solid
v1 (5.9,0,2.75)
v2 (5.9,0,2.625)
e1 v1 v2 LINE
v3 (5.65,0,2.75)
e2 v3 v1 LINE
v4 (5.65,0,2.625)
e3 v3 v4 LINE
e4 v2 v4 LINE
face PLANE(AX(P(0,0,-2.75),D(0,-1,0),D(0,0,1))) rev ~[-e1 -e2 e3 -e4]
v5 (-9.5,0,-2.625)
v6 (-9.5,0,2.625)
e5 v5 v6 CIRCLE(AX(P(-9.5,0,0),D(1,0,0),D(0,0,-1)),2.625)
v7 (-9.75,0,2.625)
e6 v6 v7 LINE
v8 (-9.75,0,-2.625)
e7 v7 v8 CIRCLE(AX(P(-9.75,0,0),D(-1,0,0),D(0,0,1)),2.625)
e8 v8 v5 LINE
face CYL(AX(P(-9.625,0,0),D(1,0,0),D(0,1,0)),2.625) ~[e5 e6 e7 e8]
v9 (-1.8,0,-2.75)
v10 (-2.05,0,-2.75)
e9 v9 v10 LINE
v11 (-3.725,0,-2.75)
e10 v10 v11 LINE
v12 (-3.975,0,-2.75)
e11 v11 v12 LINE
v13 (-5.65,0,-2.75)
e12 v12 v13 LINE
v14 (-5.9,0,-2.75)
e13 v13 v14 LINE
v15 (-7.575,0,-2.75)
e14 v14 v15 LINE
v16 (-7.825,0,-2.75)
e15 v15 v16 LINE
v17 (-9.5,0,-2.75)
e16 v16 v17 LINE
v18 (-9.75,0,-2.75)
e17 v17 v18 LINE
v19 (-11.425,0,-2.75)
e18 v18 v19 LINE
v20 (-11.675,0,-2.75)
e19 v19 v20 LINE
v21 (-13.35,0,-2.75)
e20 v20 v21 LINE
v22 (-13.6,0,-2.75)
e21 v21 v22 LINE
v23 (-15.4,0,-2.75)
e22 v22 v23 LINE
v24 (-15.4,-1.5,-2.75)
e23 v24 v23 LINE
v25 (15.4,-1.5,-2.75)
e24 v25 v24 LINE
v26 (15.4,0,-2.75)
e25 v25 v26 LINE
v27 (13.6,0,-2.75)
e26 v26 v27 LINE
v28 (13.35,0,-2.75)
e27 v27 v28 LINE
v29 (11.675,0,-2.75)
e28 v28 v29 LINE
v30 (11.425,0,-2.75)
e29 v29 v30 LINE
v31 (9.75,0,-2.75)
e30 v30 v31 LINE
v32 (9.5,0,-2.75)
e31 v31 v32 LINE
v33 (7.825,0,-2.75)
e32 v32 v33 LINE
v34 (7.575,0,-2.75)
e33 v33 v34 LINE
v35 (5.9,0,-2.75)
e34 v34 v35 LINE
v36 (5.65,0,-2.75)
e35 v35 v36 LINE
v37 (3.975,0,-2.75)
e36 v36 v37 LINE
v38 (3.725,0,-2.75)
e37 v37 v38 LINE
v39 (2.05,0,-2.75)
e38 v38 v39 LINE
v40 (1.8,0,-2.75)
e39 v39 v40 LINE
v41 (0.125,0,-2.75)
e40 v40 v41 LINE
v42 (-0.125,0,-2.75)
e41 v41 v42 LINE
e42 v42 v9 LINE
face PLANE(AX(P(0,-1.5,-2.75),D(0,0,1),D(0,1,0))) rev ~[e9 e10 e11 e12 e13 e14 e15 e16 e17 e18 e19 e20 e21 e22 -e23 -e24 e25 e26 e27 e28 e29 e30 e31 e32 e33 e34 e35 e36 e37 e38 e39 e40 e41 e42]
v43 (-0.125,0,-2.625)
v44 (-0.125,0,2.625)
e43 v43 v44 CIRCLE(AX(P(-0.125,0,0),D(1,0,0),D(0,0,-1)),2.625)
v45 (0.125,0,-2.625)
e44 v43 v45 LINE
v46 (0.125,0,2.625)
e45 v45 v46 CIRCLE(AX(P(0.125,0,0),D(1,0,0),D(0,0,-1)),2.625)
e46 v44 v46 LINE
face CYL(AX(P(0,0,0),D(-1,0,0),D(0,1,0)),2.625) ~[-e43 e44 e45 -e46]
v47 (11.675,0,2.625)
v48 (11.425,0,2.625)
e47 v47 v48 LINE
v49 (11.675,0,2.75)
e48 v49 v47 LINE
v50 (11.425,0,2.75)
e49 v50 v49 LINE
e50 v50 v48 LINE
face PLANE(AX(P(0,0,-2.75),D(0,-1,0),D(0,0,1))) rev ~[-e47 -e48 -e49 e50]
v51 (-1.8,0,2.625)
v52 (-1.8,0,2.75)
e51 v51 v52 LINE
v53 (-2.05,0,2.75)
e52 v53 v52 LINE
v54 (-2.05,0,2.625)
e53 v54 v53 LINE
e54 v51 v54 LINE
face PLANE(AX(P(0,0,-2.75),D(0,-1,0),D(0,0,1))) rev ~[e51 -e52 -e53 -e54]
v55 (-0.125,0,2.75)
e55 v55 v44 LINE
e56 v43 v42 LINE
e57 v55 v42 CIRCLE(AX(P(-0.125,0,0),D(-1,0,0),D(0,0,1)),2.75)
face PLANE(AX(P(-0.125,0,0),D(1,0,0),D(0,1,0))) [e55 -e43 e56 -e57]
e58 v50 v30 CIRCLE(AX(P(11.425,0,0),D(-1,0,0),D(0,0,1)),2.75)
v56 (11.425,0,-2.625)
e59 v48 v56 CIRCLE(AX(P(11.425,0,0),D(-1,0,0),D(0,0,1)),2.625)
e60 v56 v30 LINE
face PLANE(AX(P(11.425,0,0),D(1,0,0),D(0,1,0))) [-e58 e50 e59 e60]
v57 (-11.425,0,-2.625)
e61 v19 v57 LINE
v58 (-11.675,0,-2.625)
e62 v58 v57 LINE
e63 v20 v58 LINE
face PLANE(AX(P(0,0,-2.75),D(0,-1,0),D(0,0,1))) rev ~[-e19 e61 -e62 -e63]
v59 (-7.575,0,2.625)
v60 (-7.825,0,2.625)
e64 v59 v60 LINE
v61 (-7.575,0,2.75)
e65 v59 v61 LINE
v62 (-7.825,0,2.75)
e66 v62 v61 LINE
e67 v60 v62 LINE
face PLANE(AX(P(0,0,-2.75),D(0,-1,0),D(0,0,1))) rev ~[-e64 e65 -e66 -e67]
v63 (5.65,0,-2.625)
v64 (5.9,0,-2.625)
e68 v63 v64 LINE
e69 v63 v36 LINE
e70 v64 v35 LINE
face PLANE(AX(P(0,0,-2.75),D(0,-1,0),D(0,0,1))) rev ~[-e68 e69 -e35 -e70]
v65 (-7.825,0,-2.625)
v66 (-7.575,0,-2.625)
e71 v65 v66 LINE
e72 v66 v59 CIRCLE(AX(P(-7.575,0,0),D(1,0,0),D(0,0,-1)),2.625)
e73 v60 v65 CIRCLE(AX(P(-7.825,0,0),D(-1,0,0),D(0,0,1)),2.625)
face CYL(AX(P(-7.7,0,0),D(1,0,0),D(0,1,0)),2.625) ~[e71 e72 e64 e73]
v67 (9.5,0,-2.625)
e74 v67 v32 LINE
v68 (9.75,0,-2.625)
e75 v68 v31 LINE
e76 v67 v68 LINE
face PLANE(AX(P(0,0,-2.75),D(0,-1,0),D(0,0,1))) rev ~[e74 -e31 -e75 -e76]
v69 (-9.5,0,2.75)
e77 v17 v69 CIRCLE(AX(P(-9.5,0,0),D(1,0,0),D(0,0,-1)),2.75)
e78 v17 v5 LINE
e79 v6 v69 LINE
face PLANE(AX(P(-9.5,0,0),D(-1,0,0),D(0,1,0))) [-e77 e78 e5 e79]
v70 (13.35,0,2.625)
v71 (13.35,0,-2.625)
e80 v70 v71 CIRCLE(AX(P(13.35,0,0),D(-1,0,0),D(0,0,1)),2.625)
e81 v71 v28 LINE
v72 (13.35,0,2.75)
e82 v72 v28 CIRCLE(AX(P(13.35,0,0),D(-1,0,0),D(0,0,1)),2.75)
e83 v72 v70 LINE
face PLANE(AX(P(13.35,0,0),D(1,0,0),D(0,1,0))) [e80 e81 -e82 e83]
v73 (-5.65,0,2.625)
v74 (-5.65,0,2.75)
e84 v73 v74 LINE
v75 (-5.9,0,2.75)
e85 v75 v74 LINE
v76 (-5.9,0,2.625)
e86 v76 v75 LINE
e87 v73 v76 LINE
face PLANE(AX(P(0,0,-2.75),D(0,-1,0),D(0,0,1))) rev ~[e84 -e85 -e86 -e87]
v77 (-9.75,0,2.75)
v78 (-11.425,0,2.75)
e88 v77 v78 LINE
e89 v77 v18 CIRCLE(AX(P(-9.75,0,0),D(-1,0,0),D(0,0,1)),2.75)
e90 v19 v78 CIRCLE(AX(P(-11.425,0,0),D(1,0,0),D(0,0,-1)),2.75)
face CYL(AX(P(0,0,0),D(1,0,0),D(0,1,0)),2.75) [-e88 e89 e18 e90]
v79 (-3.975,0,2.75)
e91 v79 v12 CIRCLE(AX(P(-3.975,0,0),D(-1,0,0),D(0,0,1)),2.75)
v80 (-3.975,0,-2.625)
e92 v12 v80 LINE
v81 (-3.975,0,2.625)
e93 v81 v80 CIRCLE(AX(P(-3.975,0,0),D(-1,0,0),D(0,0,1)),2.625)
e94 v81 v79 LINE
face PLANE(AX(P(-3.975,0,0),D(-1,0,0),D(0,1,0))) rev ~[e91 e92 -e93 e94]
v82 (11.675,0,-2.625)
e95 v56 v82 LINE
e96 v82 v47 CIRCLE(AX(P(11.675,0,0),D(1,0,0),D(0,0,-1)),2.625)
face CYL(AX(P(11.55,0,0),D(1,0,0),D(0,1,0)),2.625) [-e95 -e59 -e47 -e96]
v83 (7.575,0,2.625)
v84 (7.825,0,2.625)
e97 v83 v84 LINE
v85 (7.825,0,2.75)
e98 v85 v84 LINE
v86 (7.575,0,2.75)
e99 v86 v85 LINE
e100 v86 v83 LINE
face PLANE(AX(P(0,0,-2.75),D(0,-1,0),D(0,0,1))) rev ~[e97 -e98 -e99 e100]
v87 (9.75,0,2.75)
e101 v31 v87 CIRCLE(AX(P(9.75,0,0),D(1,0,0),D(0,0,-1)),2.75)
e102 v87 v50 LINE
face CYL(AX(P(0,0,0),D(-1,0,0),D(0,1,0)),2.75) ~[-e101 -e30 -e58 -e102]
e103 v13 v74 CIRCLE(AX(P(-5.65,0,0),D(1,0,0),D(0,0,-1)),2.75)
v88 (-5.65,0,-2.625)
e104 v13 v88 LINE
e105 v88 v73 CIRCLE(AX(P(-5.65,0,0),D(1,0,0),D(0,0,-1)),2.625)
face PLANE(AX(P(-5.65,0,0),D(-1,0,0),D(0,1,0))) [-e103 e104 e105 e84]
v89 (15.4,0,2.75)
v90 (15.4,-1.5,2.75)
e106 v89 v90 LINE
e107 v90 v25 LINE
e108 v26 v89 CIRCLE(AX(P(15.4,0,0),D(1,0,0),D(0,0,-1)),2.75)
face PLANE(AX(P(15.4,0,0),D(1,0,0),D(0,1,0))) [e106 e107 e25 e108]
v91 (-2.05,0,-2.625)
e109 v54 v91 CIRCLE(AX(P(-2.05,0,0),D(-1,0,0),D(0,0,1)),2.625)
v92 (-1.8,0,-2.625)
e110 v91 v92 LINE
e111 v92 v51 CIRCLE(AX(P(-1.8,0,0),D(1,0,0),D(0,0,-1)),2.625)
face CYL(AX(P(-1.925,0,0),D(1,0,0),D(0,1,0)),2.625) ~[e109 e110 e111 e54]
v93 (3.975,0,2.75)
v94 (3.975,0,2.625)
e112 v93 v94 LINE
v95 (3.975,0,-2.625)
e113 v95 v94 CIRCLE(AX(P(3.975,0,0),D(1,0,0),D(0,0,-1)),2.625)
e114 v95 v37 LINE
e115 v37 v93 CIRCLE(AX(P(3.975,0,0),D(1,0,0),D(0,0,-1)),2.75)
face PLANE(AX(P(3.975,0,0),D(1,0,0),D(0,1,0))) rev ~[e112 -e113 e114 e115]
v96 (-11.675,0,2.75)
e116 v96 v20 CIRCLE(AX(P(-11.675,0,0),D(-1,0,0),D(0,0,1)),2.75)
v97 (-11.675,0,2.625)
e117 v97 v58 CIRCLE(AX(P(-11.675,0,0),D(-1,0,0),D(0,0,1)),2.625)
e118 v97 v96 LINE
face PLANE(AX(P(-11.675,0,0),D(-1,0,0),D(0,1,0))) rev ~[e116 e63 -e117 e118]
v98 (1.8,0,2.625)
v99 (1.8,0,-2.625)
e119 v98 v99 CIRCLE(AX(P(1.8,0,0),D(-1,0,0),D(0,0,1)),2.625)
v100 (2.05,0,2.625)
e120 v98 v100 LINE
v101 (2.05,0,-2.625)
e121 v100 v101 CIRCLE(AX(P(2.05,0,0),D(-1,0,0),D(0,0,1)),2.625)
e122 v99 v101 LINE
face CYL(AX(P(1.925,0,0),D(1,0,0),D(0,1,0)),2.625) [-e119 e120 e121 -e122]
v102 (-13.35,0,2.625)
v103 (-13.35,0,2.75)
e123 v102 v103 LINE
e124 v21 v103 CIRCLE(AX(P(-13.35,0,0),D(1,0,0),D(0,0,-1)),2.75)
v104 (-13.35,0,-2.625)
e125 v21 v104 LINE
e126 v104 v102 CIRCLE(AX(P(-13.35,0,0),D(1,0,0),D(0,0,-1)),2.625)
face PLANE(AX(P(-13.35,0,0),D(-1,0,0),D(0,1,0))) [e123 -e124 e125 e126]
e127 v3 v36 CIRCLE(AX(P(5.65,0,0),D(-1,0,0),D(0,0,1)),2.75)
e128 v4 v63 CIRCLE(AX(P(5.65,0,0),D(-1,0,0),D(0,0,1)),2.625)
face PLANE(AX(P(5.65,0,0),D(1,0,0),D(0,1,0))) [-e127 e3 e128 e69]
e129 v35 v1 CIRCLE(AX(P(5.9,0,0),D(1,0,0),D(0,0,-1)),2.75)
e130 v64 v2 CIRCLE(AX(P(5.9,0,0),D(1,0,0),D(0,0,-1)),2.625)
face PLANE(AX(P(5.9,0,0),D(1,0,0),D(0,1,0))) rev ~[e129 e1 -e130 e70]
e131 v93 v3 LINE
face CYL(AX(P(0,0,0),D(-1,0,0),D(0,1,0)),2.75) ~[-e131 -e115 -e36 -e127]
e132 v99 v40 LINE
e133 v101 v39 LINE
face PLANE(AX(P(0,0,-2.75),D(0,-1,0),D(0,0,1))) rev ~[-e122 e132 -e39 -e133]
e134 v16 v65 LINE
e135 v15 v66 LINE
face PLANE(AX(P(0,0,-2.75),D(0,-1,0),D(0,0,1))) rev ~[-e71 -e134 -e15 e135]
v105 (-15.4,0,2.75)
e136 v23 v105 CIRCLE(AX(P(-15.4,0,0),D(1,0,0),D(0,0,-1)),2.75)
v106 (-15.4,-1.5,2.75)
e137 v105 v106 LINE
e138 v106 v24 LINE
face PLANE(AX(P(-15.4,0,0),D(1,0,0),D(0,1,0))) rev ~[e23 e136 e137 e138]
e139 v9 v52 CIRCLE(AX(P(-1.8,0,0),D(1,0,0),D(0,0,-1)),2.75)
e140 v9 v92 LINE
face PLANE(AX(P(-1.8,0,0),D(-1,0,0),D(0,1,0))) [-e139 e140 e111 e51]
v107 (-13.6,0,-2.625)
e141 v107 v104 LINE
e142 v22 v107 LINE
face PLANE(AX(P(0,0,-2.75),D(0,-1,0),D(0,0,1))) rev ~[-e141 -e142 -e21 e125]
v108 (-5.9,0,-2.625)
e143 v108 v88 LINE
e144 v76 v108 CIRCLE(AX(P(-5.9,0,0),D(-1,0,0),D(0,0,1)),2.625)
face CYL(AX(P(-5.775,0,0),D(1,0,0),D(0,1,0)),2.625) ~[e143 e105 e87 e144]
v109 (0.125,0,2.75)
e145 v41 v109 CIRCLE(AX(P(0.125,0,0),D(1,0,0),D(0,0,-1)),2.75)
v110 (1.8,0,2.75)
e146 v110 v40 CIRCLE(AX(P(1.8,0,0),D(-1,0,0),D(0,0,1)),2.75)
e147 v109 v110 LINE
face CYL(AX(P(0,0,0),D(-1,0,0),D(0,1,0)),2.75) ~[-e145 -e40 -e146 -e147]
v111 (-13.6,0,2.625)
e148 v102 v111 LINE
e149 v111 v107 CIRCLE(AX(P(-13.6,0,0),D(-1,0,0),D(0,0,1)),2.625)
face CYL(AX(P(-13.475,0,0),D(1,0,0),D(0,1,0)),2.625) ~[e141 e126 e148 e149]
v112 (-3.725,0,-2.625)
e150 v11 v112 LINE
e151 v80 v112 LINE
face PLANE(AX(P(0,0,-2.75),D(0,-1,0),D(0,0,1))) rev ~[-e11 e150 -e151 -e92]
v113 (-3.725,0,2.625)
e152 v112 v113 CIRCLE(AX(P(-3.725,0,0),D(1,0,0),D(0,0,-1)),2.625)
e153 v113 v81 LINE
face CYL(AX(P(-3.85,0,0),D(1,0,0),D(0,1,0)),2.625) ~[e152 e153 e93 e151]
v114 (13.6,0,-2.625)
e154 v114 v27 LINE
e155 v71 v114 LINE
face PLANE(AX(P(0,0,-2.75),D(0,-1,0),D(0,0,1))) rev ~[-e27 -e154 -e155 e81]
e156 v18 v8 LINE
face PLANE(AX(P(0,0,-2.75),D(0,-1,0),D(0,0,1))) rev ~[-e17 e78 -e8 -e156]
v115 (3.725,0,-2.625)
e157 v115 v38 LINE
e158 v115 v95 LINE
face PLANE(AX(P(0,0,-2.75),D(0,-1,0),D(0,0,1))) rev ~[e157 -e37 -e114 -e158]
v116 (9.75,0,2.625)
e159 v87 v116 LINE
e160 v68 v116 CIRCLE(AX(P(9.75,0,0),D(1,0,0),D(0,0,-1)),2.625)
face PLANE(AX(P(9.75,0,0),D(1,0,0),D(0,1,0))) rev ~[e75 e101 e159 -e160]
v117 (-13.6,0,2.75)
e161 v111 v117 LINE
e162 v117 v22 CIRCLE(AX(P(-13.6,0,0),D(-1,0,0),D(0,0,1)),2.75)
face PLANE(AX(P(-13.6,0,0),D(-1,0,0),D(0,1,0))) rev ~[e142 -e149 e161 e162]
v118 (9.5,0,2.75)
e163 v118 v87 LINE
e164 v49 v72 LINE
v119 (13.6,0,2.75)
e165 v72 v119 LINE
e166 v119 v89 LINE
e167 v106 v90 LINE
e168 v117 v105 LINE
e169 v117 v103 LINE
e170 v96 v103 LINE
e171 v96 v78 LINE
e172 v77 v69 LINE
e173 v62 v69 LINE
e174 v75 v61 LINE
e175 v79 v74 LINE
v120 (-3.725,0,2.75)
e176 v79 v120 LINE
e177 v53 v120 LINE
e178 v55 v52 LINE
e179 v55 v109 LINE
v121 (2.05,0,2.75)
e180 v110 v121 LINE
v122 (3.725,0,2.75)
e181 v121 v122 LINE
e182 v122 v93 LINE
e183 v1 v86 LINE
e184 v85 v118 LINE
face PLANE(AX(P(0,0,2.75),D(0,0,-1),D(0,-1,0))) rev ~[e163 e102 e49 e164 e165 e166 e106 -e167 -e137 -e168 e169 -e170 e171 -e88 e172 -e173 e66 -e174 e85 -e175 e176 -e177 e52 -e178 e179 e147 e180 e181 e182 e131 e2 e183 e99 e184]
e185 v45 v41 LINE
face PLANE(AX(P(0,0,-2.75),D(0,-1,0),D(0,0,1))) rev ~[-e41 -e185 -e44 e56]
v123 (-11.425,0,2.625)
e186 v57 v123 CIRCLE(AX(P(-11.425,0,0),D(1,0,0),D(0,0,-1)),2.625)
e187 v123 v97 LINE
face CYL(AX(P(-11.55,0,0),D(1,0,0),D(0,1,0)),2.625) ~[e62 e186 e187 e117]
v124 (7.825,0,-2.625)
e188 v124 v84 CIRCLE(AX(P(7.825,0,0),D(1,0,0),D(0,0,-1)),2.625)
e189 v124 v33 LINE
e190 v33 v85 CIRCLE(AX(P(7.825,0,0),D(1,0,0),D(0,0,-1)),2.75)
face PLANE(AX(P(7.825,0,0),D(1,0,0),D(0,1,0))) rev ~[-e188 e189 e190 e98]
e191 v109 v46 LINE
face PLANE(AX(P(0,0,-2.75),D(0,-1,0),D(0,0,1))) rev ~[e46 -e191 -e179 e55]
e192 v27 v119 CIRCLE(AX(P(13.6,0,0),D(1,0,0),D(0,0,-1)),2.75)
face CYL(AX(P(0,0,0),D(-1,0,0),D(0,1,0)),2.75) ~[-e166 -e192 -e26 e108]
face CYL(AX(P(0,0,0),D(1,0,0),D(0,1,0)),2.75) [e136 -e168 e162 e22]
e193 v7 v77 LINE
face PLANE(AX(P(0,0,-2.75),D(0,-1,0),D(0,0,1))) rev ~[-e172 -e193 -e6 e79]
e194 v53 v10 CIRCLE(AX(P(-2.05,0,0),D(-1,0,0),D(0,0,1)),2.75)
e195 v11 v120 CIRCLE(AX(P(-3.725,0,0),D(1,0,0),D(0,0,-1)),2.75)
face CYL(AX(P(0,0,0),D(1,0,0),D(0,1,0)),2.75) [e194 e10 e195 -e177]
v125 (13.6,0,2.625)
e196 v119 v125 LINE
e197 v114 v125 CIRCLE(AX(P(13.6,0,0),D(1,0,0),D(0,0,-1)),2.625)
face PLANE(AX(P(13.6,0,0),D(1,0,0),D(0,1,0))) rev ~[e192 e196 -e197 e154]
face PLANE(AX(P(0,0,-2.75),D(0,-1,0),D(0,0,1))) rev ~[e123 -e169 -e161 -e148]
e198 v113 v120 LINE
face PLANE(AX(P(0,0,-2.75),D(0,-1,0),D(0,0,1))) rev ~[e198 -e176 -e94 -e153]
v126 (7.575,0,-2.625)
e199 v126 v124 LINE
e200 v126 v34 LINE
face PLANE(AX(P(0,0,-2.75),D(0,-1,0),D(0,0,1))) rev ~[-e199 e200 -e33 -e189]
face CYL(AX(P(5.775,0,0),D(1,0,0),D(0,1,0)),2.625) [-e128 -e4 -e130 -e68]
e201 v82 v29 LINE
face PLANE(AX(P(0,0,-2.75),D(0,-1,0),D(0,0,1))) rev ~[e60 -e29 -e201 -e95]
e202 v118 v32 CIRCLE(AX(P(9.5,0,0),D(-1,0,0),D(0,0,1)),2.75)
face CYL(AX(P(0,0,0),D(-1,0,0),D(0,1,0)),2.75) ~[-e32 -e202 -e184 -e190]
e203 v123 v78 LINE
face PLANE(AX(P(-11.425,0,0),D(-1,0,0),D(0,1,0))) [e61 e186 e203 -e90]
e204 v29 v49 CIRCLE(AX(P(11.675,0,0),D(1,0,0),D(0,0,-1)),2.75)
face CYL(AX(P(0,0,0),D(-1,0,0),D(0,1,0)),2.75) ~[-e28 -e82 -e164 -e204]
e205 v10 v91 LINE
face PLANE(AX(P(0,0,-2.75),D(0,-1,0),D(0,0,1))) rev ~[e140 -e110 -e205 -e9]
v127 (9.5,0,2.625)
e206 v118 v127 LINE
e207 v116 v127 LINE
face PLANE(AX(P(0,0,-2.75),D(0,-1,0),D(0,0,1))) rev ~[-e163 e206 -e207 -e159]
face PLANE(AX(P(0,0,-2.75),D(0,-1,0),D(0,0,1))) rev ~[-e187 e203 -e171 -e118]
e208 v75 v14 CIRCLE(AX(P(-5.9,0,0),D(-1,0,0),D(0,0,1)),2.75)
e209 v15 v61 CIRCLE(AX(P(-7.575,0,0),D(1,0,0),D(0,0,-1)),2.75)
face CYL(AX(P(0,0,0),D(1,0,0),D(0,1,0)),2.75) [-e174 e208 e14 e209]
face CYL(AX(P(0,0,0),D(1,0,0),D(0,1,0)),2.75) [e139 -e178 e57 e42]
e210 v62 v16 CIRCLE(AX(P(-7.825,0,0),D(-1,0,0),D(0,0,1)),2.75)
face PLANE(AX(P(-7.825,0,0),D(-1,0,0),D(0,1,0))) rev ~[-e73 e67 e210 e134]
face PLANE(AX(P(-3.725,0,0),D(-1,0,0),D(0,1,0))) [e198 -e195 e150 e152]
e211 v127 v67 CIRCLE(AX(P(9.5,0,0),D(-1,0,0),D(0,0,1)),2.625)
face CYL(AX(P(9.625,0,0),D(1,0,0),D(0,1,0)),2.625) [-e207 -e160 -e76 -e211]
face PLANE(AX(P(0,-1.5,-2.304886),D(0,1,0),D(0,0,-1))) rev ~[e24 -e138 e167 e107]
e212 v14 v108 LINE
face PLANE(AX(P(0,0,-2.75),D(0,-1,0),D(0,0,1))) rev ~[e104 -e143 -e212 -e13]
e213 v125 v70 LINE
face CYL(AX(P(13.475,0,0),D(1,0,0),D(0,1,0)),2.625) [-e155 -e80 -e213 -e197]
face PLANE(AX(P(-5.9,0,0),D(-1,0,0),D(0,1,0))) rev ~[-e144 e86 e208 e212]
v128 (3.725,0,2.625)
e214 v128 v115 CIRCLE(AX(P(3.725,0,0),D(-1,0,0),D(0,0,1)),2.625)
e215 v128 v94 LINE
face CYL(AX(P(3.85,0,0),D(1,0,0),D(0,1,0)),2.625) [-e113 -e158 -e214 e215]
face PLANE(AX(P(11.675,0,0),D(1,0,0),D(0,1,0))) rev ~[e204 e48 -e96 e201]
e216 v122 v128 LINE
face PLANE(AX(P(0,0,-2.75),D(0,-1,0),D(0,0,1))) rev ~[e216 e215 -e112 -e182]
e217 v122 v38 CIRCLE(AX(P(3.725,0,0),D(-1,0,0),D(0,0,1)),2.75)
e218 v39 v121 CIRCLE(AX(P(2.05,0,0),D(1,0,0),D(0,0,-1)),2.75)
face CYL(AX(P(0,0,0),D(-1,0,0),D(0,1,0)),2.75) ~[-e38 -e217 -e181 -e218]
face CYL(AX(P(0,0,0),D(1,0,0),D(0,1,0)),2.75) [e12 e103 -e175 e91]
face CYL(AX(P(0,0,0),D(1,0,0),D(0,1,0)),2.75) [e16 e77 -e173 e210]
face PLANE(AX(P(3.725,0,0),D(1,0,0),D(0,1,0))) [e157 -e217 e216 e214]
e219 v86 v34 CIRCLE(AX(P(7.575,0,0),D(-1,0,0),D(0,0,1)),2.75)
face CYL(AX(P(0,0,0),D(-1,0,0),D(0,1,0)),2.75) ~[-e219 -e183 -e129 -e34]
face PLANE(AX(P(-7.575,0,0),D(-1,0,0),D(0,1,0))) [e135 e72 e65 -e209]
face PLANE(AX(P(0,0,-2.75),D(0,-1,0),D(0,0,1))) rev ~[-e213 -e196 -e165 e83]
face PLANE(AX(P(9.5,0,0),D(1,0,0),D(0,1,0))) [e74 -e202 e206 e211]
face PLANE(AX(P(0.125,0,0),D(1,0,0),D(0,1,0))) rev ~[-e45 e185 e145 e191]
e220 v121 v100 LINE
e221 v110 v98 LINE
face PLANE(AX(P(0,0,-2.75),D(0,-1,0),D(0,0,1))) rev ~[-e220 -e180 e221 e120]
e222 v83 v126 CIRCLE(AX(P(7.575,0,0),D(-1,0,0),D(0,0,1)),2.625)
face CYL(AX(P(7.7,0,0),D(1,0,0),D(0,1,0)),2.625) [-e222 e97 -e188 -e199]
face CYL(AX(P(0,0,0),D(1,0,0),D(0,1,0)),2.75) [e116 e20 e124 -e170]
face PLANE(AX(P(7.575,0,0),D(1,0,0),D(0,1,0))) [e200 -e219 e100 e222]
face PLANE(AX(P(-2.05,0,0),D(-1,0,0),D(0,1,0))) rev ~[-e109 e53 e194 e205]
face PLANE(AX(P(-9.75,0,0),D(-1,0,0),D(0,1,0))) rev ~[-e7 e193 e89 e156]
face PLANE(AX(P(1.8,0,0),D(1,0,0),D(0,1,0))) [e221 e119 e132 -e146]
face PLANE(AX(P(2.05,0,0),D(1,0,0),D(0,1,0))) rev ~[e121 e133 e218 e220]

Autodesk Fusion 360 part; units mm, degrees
sketch "Sketch1" plane through (0, 0, 0) normal (1, 0, 0) x (0, 1, 0)
  circle A0 centre (0, 0) radius 2.75
  line L0 (0, 0) -> (0, 2.75) construction
  line L1 (0, 0) -> (0, -2.75) construction
  line L2 (0, 2.75) -> (-1.5, 2.75)
  line L3 (-1.5, 2.75) -> (-1.5, -2.75)
  line L4 (-1.5, -2.75) -> (0, -2.75)
  line L5 (0, -2.75) -> (0, 2.75)
  dimension "d1" = 5.5
  dimension "d79" = 1.5
extrude "Extrude1" add sketch "Sketch1" along normal mid plane 30.8 contours A0 L5 | A0 L3 L5 | A0 L3
ref_plane "WorkPlane1" through (0, 0, 0) normal (1, 0, 0) x (0, 1, 0)
sketch "Sketch2" plane through (0, 0, 0) normal (1, 0, 0) x (0, 1, 0)
  circle A0 centre (0, 0) radius 2.75
  circle A1 centre (0, 0) radius 2.625
  dimension "d5" = 5.5
  dimension "d6" = 5.25
extrude "Extrude2" cut sketch "Sketch2" along normal mid plane 0.25
ref_plane "WorkPlane2" through (7.7, 0, 0) normal (1, 0, 0) x (0, 1, 0)
sketch "Sketch3" plane through (7.7, 0, 0) normal (1, 0, 0) x (0, 1, 0)
  circle A0 centre (0, 0) radius 2.75
  circle A1 centre (0, 0) radius 2.625
  dimension "d10" = 5.5
  dimension "d11" = 5.25
extrude "Extrude3" cut sketch "Sketch3" along normal mid plane 0.25
ref_plane "WorkPlane3" through (11.55, 0, 0) normal (1, 0, 0) x (0, 1, 0)
sketch "Sketch4" plane through (11.55, 0, 0) normal (1, 0, 0) x (0, 1, 0)
  circle A0 centre (0, 0) radius 2.75
  circle A1 centre (0, 0) radius 2.625
  dimension "d15" = 5.5
  dimension "d16" = 5.25
extrude "Extrude4" cut sketch "Sketch4" along normal mid plane 0.25
ref_plane "WorkPlane4" through (13.475, 0, 0) normal (1, 0, 0) x (0, 1, 0)
sketch "Sketch5" plane through (13.475, 0, 0) normal (1, 0, 0) x (0, 1, 0)
  circle A0 centre (0, 0) radius 2.75
  circle A1 centre (0, 0) radius 2.625
  dimension "d20" = 5.5
  dimension "d21" = 5.25
extrude "Extrude5" cut sketch "Sketch5" along normal mid plane 0.25
ref_plane "WorkPlane5" through (9.625, 0, 0) normal (1, 0, 0) x (0, 1, 0)
sketch "Sketch6" plane through (9.625, 0, 0) normal (1, 0, 0) x (0, 1, 0)
  circle A0 centre (0, 0) radius 2.75
  circle A1 centre (0, 0) radius 2.625
  dimension "d25" = 5.5
  dimension "d26" = 5.25
extrude "Extrude6" cut sketch "Sketch6" along normal mid plane 0.25
ref_plane "WorkPlane6" through (5.775, 0, 0) normal (1, 0, 0) x (0, 1, 0)
sketch "Sketch7" plane through (5.775, 0, 0) normal (1, 0, 0) x (0, 1, 0)
  circle A0 centre (0, 0) radius 2.75
  circle A1 centre (0, 0) radius 2.625
  dimension "d30" = 5.5
  dimension "d31" = 5.25
extrude "Extrude7" cut sketch "Sketch7" along normal mid plane 0.25
ref_plane "WorkPlane7" through (3.85, 0, 0) normal (1, 0, 0) x (0, 1, 0)
sketch "Sketch8" plane through (3.85, 0, 0) normal (1, 0, 0) x (0, 1, 0)
  circle A0 centre (0, 0) radius 2.75
  circle A1 centre (0, 0) radius 2.625
  dimension "d35" = 5.5
  dimension "d36" = 5.25
extrude "Extrude8" cut sketch "Sketch8" along normal mid plane 0.25
ref_plane "WorkPlane8" through (1.925, 0, 0) normal (1, 0, 0) x (0, 1, 0)
sketch "Sketch9" plane through (1.925, 0, 0) normal (1, 0, 0) x (0, 1, 0)
  circle A0 centre (0, 0) radius 2.75
  circle A1 centre (0, 0) radius 2.625
  dimension "d40" = 5.5
  dimension "d41" = 5.25
extrude "Extrude9" cut sketch "Sketch9" along normal mid plane 0.25
ref_plane "WorkPlane9" through (-13.475, 0, 0) normal (-1, 0, 0) x (0, -1, 0)
sketch "Sketch10" plane through (-13.475, 0, 0) normal (-1, 0, 0) x (0, 1, 0)
  circle A0 centre (0, 0) radius 2.75
  circle A1 centre (0, 0) radius 2.625
  dimension "d45" = 5.5
  dimension "d46" = 5.25
extrude "Extrude10" cut sketch "Sketch10" along normal mid plane 0.25
ref_plane "WorkPlane10" through (-11.55, 0, 0) normal (-1, 0, 0) x (0, -1, 0)
sketch "Sketch11" plane through (-11.55, 0, 0) normal (-1, 0, 0) x (0, 1, 0)
  circle A0 centre (0, 0) radius 2.75
  circle A1 centre (0, 0) radius 2.625
  dimension "d50" = 5.5
  dimension "d51" = 5.25
extrude "Extrude11" cut sketch "Sketch11" along normal mid plane 0.25
ref_plane "WorkPlane11" through (-9.625, 0, 0) normal (-1, 0, 0) x (0, -1, 0)
sketch "Sketch12" plane through (-9.625, 0, 0) normal (-1, 0, 0) x (0, 1, 0)
  circle A0 centre (0, 0) radius 2.75
  circle A1 centre (0, 0) radius 2.625
  dimension "d55" = 5.5
  dimension "d56" = 5.25
extrude "Extrude12" cut sketch "Sketch12" along normal mid plane 0.25
ref_plane "WorkPlane12" through (-7.7, 0, 0) normal (-1, 0, 0) x (0, -1, 0)
sketch "Sketch13" plane through (-7.7, 0, 0) normal (-1, 0, 0) x (0, 1, 0)
  circle A0 centre (0, 0) radius 2.75
  circle A1 centre (0, 0) radius 2.625
  dimension "d60" = 5.5
  dimension "d61" = 5.25
extrude "Extrude13" cut sketch "Sketch13" along normal mid plane 0.25
ref_plane "WorkPlane13" through (-5.775, 0, 0) normal (-1, 0, 0) x (0, -1, 0)
sketch "Sketch14" plane through (-5.775, 0, 0) normal (-1, 0, 0) x (0, 1, 0)
  circle A0 centre (0, 0) radius 2.75
  circle A1 centre (0, 0) radius 2.625
  dimension "d65" = 5.5
  dimension "d66" = 5.25
extrude "Extrude14" cut sketch "Sketch14" along normal mid plane 0.25
ref_plane "WorkPlane14" through (-3.85, 0, 0) normal (-1, 0, 0) x (0, -1, 0)
sketch "Sketch15" plane through (-3.85, 0, 0) normal (-1, 0, 0) x (0, 1, 0)
  circle A0 centre (0, 0) radius 2.75
  circle A1 centre (0, 0) radius 2.625
  dimension "d70" = 5.5
  dimension "d71" = 5.25
extrude "Extrude15" cut sketch "Sketch15" along normal mid plane 0.25
ref_plane "WorkPlane15" through (-1.925, 0, 0) normal (-1, 0, 0) x (0, -1, 0)
sketch "Sketch16" plane through (-1.925, 0, 0) normal (-1, 0, 0) x (0, 1, 0)
  circle A0 centre (0, 0) radius 2.75
  circle A1 centre (0, 0) radius 2.625
  dimension "d75" = 5.5
  dimension "d76" = 5.25
extrude "Extrude16" cut sketch "Sketch16" along normal mid plane 0.25
extrude "Extrude17" add sketch "Sketch1" along normal mid plane 30.8 contours A0 L3 L5 | A0 L2 L3 | A0 L3 L4
extrude "Extrude18" cut sketch "Sketch1" along normal mid plane 30.8 contours A0 L3
